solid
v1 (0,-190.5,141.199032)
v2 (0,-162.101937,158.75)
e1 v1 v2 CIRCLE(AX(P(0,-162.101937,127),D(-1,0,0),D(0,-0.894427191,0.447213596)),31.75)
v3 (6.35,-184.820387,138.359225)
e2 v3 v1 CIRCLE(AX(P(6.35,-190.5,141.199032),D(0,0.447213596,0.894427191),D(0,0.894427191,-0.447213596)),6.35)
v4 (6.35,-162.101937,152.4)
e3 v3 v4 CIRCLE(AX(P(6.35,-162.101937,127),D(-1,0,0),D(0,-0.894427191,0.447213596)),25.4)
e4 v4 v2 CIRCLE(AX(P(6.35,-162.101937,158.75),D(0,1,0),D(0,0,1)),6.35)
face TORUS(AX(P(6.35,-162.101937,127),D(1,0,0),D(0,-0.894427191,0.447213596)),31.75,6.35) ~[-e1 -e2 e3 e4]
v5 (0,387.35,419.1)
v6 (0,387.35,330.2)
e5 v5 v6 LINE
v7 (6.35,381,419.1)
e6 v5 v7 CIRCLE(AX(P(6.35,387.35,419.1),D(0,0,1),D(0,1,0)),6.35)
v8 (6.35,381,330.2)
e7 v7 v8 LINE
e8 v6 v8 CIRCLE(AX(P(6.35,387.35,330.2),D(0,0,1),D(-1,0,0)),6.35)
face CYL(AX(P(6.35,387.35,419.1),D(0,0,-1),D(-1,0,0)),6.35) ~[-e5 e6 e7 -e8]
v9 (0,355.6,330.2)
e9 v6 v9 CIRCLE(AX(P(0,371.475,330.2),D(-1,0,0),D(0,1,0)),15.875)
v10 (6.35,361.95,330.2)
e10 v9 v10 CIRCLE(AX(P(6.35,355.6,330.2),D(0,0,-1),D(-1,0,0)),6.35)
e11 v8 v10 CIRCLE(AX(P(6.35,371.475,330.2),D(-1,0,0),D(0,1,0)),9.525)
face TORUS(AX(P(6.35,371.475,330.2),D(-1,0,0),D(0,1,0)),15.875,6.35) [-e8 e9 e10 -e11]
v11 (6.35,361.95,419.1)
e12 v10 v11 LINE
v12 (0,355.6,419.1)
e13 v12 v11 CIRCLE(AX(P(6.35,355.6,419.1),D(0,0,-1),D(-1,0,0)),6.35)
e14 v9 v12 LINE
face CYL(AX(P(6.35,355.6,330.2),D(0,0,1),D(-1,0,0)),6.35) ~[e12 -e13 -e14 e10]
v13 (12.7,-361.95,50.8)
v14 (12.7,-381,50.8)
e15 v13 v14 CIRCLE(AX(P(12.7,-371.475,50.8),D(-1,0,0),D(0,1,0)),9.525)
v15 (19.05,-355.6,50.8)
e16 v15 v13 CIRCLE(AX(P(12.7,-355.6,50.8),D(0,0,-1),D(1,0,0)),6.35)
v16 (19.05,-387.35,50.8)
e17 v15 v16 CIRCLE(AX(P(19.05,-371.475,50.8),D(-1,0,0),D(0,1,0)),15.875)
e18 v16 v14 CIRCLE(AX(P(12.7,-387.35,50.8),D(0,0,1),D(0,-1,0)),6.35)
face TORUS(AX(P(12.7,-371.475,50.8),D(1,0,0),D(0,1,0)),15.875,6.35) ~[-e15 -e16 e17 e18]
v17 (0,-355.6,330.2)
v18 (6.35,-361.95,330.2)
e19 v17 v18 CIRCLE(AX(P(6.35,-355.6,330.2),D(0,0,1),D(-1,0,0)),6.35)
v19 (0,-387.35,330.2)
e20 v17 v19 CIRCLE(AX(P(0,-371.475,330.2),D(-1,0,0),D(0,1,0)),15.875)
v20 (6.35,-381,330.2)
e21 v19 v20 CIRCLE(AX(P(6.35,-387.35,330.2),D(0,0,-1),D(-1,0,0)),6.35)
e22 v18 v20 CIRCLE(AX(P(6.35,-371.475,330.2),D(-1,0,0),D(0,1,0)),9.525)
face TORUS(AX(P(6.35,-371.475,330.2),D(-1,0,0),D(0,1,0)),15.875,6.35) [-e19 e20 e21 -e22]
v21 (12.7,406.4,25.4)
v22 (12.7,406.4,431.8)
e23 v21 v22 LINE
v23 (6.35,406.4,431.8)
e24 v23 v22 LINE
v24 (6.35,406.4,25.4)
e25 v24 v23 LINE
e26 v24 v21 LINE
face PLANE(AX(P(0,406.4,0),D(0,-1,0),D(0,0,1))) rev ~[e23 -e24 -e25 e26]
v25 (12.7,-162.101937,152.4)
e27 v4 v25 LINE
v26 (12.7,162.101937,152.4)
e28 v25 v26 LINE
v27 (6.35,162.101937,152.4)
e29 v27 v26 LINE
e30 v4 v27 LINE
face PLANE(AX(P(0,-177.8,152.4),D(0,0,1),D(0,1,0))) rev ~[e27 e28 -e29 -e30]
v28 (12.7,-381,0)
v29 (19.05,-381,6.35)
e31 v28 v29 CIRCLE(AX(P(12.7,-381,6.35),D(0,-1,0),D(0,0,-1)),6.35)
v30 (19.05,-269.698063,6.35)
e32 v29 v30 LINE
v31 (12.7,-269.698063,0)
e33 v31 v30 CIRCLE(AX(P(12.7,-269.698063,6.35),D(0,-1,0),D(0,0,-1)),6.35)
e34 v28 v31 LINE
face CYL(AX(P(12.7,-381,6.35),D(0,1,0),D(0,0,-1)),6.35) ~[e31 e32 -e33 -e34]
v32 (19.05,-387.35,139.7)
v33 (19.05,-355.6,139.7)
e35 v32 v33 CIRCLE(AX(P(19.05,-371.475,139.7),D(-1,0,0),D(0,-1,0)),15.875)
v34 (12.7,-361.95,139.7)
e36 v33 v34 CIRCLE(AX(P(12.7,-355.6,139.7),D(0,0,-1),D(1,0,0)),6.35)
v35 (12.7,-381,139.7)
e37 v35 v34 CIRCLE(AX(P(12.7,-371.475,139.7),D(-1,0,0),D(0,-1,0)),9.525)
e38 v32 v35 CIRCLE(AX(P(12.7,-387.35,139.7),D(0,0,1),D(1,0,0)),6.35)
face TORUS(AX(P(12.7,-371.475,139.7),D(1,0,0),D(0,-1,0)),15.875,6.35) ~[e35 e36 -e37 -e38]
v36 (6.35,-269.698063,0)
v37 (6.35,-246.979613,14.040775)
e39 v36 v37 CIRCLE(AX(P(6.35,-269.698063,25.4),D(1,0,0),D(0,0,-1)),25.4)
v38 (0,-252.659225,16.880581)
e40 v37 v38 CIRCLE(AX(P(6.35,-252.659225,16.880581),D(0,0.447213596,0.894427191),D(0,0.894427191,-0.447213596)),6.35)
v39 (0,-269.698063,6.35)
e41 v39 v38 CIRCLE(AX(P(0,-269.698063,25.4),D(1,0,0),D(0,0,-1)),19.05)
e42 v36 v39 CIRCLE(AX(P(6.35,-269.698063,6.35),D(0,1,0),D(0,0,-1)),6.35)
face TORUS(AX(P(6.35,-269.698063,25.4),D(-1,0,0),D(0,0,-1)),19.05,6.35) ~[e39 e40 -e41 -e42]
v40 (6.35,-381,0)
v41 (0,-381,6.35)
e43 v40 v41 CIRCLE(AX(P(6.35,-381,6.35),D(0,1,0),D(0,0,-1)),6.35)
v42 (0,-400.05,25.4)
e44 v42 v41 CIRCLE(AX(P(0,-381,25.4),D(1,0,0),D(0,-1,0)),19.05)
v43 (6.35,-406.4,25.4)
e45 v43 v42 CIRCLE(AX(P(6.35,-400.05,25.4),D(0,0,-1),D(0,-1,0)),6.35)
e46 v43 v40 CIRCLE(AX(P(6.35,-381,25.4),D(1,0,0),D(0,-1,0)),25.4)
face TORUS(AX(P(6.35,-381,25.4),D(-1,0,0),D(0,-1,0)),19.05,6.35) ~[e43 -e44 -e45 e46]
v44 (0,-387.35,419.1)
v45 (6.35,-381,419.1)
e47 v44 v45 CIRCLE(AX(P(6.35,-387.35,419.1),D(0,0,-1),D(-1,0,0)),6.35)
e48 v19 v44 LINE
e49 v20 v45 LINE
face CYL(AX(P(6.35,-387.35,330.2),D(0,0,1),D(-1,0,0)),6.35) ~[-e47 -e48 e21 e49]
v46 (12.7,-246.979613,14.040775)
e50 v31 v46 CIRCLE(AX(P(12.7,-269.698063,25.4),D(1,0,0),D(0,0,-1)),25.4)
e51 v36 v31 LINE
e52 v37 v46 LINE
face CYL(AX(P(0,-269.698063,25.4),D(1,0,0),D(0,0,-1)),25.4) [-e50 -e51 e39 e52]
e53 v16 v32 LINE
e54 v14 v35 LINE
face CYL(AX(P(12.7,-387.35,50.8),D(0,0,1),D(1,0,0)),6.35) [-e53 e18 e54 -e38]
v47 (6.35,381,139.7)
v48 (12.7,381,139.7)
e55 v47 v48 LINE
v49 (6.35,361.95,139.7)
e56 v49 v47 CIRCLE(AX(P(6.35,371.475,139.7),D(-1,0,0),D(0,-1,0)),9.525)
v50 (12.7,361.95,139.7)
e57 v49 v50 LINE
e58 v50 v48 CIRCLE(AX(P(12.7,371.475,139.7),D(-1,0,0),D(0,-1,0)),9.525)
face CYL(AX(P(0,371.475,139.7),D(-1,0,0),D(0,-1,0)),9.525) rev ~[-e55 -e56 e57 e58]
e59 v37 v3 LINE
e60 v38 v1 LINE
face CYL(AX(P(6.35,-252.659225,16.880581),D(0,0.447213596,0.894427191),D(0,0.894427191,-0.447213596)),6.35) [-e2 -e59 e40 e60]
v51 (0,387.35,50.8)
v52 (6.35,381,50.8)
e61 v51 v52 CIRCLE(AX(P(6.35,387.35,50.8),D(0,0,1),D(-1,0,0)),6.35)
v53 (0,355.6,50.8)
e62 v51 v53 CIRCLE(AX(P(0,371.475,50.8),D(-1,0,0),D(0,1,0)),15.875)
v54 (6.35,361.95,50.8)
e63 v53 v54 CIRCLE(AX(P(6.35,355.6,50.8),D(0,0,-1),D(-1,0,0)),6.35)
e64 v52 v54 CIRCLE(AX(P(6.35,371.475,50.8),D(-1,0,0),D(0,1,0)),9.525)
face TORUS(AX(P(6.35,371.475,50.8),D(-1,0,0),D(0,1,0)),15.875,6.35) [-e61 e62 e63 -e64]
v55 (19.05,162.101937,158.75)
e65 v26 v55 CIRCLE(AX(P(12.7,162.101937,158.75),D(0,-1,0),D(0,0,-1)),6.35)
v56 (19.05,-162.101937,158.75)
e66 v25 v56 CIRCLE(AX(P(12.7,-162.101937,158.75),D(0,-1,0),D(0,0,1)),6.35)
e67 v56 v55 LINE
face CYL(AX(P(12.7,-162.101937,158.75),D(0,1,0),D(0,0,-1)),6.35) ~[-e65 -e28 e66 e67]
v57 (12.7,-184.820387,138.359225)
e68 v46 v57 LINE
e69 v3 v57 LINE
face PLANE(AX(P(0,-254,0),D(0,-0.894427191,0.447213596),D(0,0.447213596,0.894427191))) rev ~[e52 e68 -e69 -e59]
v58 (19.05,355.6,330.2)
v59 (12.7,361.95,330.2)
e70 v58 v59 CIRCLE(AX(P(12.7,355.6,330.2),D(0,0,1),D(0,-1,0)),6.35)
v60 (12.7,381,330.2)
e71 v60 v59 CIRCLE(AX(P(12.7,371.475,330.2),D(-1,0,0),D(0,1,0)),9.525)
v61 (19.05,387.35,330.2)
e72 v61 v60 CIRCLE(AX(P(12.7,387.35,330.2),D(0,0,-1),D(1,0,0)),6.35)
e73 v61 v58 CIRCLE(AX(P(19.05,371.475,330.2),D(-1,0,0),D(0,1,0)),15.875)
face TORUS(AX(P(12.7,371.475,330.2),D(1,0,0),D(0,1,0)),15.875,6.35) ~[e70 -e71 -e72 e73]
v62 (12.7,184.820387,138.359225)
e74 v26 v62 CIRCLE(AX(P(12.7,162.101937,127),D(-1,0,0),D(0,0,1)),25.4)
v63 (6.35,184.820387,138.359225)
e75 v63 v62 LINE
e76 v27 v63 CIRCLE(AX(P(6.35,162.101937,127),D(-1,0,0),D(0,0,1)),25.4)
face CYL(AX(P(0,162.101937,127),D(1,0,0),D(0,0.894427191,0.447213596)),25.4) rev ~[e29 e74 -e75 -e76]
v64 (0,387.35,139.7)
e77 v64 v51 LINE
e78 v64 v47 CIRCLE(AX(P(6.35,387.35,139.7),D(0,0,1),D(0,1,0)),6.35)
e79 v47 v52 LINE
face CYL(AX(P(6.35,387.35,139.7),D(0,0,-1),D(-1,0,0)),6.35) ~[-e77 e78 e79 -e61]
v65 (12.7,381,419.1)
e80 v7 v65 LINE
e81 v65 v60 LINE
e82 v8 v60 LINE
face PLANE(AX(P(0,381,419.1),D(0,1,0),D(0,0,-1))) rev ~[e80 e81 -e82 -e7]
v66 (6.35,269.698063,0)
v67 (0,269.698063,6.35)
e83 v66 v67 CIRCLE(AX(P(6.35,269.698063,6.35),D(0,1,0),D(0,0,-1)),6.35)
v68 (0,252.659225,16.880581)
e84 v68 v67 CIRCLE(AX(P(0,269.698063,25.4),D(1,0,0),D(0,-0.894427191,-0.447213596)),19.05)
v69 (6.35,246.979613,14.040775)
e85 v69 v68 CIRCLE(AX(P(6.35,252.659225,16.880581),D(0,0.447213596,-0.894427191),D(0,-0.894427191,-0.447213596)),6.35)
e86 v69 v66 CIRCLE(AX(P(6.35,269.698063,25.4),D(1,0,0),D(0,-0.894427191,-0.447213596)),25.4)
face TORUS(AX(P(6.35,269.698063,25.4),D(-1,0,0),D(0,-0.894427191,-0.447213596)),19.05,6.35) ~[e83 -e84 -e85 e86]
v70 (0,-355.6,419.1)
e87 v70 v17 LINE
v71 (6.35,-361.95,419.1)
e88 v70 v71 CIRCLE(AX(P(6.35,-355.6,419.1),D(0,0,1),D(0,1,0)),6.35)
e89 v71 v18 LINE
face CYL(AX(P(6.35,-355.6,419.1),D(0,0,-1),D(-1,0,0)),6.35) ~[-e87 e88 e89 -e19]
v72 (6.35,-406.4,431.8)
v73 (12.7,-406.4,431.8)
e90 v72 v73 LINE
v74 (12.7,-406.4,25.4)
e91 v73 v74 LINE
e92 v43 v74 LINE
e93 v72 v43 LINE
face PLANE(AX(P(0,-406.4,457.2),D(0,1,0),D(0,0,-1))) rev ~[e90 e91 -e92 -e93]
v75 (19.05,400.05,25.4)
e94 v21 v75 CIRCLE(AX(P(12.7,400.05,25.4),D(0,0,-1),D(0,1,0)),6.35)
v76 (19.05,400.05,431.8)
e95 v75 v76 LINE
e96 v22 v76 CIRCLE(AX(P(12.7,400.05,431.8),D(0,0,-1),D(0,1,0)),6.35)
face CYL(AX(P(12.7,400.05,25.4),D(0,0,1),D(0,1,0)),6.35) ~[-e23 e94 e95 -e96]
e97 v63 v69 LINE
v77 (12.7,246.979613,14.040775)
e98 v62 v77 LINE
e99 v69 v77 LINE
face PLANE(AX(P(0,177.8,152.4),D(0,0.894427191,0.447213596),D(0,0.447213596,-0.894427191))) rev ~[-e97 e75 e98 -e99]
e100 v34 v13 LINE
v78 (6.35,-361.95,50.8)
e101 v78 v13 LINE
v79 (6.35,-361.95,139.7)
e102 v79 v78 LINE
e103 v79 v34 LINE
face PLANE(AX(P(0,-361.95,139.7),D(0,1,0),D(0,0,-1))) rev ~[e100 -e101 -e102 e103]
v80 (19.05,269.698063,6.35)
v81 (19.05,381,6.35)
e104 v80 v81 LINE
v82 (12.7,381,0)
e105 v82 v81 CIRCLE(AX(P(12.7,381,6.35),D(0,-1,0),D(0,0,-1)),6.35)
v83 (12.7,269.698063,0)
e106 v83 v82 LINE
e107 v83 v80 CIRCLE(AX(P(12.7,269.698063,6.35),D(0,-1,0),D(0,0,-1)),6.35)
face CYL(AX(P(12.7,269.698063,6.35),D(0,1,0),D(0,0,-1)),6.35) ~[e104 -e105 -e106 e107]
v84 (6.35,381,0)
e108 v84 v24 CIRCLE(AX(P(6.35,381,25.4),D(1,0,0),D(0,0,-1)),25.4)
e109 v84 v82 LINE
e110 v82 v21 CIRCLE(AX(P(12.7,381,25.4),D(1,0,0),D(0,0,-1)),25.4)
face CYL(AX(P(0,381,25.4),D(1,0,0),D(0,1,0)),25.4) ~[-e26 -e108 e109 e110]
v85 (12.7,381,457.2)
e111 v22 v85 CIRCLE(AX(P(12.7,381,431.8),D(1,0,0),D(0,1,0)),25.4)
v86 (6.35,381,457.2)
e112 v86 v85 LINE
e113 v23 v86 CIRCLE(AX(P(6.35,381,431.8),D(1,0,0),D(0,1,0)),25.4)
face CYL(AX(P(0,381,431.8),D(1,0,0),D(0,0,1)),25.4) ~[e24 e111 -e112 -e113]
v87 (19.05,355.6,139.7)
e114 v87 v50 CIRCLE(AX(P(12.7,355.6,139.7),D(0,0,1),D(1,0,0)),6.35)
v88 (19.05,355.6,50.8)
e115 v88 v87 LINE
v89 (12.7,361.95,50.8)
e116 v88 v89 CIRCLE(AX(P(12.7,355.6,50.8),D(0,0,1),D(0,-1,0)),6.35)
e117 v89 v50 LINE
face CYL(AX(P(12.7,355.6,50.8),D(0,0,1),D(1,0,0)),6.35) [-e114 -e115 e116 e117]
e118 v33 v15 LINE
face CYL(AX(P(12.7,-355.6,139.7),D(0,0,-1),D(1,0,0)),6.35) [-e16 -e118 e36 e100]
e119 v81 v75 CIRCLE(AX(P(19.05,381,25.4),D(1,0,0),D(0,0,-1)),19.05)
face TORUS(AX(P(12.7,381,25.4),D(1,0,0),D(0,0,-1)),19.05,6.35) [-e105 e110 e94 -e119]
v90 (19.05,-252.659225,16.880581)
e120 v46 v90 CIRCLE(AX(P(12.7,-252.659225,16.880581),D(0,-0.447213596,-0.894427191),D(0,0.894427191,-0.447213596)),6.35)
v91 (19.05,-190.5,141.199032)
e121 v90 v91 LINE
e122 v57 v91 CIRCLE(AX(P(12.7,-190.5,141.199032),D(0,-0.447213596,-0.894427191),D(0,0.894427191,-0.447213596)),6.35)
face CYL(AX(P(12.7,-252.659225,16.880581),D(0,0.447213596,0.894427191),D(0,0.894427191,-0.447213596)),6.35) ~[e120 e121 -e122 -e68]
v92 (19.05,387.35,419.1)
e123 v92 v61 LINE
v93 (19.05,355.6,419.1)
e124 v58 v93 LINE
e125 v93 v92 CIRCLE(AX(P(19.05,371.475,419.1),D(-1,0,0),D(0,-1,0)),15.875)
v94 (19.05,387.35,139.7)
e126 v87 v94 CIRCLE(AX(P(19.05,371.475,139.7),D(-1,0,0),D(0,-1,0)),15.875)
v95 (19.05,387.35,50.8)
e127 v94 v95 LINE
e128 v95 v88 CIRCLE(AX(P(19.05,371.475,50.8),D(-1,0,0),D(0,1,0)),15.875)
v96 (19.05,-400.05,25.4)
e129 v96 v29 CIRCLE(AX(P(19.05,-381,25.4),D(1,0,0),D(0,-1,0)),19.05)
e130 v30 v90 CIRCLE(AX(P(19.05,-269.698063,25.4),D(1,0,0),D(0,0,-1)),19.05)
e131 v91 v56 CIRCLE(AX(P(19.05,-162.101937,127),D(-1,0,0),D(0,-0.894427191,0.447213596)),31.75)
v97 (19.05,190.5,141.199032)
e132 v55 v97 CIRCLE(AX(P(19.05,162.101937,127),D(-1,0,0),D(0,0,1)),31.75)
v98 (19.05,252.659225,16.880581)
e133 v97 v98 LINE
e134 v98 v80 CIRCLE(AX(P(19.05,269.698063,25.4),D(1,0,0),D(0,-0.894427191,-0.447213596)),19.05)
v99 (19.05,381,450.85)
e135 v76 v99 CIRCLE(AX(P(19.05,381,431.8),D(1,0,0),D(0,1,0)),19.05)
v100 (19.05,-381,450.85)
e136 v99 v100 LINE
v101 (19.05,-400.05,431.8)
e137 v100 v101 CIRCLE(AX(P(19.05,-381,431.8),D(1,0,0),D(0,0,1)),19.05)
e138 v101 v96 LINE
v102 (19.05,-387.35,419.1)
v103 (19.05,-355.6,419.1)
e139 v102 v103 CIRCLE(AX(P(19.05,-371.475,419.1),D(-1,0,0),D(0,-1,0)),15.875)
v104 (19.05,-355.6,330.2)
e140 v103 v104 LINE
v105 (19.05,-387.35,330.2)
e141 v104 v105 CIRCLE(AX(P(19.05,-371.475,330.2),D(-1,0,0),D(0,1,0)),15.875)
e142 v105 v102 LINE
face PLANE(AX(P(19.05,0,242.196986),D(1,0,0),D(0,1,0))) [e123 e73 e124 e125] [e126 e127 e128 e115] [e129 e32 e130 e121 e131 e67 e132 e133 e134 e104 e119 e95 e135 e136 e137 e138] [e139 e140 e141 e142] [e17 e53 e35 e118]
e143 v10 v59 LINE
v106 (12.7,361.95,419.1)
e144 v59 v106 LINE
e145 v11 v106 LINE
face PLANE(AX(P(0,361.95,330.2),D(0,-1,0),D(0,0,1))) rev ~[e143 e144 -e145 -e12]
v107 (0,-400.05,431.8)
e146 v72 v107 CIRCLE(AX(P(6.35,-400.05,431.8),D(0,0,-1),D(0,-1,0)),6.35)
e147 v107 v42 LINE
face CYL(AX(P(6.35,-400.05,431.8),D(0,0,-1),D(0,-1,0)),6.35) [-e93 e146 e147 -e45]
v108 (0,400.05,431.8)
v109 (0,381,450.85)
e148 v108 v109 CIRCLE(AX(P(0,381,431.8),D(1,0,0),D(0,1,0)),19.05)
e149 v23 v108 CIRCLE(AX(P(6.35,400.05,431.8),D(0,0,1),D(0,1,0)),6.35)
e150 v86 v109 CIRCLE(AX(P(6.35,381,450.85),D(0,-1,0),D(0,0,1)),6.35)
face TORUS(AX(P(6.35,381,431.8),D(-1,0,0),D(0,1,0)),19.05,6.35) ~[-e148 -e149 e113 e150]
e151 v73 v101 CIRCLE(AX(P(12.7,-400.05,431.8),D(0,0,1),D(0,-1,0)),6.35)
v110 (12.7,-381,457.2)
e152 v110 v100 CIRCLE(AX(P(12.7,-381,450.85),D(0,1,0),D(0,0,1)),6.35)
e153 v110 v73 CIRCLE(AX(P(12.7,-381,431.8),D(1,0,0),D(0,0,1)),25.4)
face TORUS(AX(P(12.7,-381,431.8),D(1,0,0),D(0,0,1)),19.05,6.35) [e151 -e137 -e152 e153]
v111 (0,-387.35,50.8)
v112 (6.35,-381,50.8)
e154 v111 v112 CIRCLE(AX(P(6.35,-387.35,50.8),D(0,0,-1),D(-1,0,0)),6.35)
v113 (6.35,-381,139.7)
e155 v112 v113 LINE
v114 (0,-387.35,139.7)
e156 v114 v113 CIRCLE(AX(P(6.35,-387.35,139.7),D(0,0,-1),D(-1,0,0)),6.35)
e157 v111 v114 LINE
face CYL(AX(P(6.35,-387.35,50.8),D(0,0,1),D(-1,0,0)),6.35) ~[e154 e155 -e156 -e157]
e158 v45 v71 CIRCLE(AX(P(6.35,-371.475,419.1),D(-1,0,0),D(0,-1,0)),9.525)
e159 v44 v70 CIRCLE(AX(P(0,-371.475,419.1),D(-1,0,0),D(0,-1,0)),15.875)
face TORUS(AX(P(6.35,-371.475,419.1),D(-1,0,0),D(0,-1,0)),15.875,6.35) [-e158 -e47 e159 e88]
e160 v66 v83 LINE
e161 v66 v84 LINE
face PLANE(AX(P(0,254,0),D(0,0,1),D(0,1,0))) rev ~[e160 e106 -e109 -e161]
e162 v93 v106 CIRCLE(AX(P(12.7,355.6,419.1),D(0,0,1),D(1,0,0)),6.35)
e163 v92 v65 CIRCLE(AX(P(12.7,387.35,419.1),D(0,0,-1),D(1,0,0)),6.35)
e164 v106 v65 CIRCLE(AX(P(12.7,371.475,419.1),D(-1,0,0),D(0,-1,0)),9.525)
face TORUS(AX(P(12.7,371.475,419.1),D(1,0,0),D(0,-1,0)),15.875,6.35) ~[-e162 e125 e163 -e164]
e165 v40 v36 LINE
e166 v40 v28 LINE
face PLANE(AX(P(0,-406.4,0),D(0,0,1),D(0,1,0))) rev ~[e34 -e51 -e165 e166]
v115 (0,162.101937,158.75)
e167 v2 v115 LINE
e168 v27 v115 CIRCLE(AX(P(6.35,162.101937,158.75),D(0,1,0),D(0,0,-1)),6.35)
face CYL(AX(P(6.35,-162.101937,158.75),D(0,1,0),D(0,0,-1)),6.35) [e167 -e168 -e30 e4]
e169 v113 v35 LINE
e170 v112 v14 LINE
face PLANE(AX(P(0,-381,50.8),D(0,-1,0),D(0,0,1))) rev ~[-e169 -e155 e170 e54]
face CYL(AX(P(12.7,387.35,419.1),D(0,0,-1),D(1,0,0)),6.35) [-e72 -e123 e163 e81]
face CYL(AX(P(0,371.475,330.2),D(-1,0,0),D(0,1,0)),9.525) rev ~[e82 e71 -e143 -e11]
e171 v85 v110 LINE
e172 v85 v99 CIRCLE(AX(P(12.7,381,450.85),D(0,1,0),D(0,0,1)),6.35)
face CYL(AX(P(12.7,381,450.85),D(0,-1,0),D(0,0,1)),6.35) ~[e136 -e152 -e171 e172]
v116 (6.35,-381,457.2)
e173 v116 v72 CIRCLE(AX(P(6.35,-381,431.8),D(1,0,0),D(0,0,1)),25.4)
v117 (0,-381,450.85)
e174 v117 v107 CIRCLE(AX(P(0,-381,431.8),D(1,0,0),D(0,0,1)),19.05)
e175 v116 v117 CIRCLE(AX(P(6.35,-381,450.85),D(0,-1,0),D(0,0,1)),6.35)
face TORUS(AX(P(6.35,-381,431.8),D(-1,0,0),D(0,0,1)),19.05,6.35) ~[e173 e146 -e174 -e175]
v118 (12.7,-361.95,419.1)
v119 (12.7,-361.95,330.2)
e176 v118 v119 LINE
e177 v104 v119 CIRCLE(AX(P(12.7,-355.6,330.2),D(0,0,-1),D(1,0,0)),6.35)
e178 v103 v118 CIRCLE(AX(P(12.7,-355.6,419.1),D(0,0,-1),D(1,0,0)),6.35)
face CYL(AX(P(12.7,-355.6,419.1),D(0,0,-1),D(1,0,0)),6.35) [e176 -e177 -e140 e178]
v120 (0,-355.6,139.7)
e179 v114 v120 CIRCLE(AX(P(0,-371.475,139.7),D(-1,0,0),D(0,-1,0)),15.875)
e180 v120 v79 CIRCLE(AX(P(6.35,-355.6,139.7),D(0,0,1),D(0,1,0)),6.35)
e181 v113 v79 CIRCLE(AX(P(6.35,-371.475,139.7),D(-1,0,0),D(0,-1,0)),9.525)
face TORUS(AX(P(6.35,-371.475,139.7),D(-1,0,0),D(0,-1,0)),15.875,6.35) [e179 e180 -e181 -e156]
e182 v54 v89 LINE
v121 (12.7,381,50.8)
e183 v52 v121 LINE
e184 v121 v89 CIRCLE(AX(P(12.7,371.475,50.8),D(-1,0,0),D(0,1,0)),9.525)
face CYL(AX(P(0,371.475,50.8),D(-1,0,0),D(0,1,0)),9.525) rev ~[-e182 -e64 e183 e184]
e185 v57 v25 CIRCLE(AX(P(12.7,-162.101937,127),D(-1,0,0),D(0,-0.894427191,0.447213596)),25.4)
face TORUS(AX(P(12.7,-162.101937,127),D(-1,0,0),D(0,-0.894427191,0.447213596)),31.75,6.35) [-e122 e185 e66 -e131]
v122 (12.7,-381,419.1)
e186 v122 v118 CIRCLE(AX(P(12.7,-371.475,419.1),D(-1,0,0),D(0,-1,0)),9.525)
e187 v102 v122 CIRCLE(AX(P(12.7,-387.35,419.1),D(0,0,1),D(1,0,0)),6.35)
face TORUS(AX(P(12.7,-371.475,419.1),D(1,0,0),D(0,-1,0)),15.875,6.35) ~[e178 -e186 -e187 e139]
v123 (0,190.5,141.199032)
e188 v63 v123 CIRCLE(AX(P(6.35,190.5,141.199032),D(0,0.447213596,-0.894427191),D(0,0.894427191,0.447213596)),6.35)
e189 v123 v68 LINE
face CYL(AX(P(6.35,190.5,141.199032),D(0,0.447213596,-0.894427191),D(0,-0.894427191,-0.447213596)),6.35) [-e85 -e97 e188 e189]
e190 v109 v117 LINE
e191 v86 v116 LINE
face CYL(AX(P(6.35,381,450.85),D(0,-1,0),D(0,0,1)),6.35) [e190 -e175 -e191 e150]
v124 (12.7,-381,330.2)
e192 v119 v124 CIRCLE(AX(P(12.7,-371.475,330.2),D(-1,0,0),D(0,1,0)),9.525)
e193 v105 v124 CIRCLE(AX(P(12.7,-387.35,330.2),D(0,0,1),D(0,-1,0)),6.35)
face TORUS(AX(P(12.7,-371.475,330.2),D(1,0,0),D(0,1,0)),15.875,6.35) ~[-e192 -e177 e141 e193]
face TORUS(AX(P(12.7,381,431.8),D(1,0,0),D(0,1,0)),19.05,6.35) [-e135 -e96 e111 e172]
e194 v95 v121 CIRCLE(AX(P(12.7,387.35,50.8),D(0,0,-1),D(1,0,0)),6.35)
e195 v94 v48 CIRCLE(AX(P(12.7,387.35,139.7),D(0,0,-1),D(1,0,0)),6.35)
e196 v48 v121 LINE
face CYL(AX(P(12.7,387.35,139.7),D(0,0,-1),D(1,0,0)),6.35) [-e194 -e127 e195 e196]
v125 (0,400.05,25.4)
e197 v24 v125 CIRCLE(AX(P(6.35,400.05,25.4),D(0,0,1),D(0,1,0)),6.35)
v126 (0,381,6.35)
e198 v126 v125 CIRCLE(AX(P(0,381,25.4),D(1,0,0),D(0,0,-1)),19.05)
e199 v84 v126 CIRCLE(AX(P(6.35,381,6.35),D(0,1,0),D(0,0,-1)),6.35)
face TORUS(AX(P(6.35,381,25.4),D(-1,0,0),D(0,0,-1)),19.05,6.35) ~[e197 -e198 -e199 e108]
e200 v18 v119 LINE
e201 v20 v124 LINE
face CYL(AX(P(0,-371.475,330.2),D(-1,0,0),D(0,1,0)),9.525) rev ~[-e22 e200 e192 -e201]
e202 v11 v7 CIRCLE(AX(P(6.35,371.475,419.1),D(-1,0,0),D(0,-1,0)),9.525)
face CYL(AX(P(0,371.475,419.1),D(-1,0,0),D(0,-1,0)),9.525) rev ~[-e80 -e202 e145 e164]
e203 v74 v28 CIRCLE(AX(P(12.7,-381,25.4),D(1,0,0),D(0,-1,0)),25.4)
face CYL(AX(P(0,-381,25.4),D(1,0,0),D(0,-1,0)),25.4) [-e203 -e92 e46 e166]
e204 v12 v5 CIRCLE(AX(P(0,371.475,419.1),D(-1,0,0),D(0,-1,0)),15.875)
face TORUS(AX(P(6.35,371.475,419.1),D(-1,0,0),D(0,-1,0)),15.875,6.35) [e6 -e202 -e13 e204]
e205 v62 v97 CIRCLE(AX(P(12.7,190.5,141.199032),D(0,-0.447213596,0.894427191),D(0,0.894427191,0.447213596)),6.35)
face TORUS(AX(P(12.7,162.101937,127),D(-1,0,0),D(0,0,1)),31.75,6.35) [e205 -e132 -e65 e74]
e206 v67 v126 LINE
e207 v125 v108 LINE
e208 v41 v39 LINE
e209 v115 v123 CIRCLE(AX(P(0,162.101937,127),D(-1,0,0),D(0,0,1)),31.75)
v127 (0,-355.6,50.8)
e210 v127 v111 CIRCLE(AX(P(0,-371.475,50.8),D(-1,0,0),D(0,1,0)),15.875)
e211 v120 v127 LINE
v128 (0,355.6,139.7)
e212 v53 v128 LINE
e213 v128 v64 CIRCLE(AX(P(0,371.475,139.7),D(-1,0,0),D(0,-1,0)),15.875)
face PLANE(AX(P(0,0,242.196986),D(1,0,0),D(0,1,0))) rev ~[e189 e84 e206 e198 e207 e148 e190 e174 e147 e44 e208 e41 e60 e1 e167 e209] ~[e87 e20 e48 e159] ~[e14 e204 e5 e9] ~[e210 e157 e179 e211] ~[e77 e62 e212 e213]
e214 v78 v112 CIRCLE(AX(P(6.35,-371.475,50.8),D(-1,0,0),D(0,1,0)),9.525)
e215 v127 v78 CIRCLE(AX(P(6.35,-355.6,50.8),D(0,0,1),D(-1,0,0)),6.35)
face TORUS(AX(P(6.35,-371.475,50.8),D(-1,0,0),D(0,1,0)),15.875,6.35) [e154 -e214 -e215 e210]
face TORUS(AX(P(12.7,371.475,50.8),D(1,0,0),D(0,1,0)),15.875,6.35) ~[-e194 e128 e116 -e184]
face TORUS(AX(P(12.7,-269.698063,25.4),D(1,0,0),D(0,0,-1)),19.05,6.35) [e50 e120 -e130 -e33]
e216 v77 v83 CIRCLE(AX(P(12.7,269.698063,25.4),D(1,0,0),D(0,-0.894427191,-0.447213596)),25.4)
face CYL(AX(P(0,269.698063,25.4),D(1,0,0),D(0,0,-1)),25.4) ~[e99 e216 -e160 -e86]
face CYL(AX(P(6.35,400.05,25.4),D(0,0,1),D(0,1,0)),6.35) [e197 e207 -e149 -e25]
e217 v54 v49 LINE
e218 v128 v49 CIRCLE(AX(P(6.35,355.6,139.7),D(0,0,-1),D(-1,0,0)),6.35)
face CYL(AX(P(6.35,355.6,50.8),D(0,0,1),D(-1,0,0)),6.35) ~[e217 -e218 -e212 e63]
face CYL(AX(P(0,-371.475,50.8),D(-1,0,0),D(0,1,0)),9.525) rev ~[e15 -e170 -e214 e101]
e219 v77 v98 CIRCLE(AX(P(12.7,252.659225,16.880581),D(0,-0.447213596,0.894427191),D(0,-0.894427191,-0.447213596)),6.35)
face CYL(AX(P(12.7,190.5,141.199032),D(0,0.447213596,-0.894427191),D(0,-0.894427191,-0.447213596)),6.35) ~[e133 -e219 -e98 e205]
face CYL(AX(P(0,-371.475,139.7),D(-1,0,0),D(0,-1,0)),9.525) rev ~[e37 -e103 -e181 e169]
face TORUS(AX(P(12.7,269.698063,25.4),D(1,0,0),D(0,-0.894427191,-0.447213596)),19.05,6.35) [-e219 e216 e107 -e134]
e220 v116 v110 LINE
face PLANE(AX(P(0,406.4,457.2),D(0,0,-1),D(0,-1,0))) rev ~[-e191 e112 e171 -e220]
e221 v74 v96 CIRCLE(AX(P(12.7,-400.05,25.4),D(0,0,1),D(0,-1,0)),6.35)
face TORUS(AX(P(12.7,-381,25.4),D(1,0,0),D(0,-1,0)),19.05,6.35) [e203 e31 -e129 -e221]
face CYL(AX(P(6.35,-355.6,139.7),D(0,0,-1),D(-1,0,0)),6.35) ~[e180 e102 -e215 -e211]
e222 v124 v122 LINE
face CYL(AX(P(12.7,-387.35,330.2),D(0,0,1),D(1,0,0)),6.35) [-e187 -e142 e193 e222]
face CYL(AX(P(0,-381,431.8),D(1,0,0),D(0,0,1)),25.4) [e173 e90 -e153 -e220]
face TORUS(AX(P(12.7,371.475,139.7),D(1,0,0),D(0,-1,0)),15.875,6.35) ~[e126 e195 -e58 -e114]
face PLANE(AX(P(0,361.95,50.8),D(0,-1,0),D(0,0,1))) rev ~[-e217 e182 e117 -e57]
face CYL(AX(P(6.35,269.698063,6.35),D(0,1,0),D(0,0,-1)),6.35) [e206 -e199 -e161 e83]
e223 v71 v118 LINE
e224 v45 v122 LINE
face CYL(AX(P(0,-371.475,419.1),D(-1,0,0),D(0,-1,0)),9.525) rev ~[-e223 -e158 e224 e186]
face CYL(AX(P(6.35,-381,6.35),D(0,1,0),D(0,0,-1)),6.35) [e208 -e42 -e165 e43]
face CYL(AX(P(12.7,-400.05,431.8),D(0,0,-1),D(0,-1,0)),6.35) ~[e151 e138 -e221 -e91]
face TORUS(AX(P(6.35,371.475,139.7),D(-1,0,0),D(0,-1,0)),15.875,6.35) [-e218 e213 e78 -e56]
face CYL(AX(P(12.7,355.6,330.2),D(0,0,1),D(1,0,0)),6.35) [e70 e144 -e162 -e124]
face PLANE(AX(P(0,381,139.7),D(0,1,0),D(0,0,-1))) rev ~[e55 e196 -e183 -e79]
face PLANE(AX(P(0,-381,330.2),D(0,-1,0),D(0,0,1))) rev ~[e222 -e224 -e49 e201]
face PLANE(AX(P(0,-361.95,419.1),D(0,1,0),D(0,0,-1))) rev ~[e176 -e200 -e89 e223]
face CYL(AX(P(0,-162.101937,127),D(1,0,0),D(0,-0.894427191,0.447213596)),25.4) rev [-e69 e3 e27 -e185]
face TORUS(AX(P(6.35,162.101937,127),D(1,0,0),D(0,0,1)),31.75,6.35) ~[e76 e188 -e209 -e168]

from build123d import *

# Parameters (mm, degrees)
F1_DEPTH = 19.05
F2_R     = 25.4
F3_R     = 6.35


with BuildPart() as f1:
    # F0 (on Right) → F1 (new body)
    with BuildSketch(Plane.YZ):
        Polygon((406.4, 457.2), (-406.4, 457.2), (-406.4, 0), (-254, 0), (-177.8, 152.4), (177.8, 152.4), (254, 0), (406.4, 0), align=None)
        with BuildLine():
            Line((-381, 50.8), (-381, 139.7))
            ThreePointArc((-381, 139.7), (-371.475, 149.225), (-361.95, 139.7))
            Line((-361.95, 139.7), (-361.95, 50.8))
            ThreePointArc((-361.95, 50.8), (-371.475, 41.275), (-381, 50.8))
        make_face(mode=Mode.SUBTRACT)
        with BuildLine():
            ThreePointArc((361.95, 139.7), (371.475, 149.225), (381, 139.7))
            Line((381, 139.7), (381, 50.8))
            ThreePointArc((381, 50.8), (371.475, 41.275), (361.95, 50.8))
            Line((361.95, 50.8), (361.95, 139.7))
        make_face(mode=Mode.SUBTRACT)
        with BuildLine():
            Line((-381, 330.2), (-381, 419.1))
            ThreePointArc((-381, 419.1), (-371.475, 428.625), (-361.95, 419.1))
            Line((-361.95, 419.1), (-361.95, 330.2))
            ThreePointArc((-361.95, 330.2), (-371.475, 320.675), (-381, 330.2))
        make_face(mode=Mode.SUBTRACT)
        with BuildLine():
            Line((361.95, 330.2), (361.95, 419.1))
            ThreePointArc((361.95, 419.1), (371.475, 428.625), (381, 419.1))
            Line((381, 419.1), (381, 330.2))
            ThreePointArc((381, 330.2), (371.475, 320.675), (361.95, 330.2))
        make_face(mode=Mode.SUBTRACT)
    extrude(amount=F1_DEPTH)

    # F2
    f2_edges = [f1.edges().sort_by_distance(p)[0] for p in [
        (9.525, -406.4, 457.2),
        (9.525, 406.4, 457.2),
        (9.525, -406.4, 0),
        (9.525, 406.4, 0),
        (9.525, -177.8, 152.4),
        (9.525, -254, 0),
        (9.525, 254, 0),
        (9.525, 177.8, 152.4),
    ]]
    fillet(f2_edges, radius=F2_R)

    # F3
    f3_edges = [f1.edges().sort_by_distance(p)[0] for p in [
        (19.05, 0, 457.2),
        (0, 0, 457.2),
        (19.05, -361.95, 374.65),
        (19.05, -361.95, 95.25),
        (19.05, 381, 95.25),
        (19.05, 381, 374.65),
        (0, 361.95, 374.65),
        (0, -381, 374.65),
        (0, -381, 95.25),
        (0, 361.95, 95.25),
    ]]
    fillet(f3_edges, radius=F3_R)


solid = f1.part
